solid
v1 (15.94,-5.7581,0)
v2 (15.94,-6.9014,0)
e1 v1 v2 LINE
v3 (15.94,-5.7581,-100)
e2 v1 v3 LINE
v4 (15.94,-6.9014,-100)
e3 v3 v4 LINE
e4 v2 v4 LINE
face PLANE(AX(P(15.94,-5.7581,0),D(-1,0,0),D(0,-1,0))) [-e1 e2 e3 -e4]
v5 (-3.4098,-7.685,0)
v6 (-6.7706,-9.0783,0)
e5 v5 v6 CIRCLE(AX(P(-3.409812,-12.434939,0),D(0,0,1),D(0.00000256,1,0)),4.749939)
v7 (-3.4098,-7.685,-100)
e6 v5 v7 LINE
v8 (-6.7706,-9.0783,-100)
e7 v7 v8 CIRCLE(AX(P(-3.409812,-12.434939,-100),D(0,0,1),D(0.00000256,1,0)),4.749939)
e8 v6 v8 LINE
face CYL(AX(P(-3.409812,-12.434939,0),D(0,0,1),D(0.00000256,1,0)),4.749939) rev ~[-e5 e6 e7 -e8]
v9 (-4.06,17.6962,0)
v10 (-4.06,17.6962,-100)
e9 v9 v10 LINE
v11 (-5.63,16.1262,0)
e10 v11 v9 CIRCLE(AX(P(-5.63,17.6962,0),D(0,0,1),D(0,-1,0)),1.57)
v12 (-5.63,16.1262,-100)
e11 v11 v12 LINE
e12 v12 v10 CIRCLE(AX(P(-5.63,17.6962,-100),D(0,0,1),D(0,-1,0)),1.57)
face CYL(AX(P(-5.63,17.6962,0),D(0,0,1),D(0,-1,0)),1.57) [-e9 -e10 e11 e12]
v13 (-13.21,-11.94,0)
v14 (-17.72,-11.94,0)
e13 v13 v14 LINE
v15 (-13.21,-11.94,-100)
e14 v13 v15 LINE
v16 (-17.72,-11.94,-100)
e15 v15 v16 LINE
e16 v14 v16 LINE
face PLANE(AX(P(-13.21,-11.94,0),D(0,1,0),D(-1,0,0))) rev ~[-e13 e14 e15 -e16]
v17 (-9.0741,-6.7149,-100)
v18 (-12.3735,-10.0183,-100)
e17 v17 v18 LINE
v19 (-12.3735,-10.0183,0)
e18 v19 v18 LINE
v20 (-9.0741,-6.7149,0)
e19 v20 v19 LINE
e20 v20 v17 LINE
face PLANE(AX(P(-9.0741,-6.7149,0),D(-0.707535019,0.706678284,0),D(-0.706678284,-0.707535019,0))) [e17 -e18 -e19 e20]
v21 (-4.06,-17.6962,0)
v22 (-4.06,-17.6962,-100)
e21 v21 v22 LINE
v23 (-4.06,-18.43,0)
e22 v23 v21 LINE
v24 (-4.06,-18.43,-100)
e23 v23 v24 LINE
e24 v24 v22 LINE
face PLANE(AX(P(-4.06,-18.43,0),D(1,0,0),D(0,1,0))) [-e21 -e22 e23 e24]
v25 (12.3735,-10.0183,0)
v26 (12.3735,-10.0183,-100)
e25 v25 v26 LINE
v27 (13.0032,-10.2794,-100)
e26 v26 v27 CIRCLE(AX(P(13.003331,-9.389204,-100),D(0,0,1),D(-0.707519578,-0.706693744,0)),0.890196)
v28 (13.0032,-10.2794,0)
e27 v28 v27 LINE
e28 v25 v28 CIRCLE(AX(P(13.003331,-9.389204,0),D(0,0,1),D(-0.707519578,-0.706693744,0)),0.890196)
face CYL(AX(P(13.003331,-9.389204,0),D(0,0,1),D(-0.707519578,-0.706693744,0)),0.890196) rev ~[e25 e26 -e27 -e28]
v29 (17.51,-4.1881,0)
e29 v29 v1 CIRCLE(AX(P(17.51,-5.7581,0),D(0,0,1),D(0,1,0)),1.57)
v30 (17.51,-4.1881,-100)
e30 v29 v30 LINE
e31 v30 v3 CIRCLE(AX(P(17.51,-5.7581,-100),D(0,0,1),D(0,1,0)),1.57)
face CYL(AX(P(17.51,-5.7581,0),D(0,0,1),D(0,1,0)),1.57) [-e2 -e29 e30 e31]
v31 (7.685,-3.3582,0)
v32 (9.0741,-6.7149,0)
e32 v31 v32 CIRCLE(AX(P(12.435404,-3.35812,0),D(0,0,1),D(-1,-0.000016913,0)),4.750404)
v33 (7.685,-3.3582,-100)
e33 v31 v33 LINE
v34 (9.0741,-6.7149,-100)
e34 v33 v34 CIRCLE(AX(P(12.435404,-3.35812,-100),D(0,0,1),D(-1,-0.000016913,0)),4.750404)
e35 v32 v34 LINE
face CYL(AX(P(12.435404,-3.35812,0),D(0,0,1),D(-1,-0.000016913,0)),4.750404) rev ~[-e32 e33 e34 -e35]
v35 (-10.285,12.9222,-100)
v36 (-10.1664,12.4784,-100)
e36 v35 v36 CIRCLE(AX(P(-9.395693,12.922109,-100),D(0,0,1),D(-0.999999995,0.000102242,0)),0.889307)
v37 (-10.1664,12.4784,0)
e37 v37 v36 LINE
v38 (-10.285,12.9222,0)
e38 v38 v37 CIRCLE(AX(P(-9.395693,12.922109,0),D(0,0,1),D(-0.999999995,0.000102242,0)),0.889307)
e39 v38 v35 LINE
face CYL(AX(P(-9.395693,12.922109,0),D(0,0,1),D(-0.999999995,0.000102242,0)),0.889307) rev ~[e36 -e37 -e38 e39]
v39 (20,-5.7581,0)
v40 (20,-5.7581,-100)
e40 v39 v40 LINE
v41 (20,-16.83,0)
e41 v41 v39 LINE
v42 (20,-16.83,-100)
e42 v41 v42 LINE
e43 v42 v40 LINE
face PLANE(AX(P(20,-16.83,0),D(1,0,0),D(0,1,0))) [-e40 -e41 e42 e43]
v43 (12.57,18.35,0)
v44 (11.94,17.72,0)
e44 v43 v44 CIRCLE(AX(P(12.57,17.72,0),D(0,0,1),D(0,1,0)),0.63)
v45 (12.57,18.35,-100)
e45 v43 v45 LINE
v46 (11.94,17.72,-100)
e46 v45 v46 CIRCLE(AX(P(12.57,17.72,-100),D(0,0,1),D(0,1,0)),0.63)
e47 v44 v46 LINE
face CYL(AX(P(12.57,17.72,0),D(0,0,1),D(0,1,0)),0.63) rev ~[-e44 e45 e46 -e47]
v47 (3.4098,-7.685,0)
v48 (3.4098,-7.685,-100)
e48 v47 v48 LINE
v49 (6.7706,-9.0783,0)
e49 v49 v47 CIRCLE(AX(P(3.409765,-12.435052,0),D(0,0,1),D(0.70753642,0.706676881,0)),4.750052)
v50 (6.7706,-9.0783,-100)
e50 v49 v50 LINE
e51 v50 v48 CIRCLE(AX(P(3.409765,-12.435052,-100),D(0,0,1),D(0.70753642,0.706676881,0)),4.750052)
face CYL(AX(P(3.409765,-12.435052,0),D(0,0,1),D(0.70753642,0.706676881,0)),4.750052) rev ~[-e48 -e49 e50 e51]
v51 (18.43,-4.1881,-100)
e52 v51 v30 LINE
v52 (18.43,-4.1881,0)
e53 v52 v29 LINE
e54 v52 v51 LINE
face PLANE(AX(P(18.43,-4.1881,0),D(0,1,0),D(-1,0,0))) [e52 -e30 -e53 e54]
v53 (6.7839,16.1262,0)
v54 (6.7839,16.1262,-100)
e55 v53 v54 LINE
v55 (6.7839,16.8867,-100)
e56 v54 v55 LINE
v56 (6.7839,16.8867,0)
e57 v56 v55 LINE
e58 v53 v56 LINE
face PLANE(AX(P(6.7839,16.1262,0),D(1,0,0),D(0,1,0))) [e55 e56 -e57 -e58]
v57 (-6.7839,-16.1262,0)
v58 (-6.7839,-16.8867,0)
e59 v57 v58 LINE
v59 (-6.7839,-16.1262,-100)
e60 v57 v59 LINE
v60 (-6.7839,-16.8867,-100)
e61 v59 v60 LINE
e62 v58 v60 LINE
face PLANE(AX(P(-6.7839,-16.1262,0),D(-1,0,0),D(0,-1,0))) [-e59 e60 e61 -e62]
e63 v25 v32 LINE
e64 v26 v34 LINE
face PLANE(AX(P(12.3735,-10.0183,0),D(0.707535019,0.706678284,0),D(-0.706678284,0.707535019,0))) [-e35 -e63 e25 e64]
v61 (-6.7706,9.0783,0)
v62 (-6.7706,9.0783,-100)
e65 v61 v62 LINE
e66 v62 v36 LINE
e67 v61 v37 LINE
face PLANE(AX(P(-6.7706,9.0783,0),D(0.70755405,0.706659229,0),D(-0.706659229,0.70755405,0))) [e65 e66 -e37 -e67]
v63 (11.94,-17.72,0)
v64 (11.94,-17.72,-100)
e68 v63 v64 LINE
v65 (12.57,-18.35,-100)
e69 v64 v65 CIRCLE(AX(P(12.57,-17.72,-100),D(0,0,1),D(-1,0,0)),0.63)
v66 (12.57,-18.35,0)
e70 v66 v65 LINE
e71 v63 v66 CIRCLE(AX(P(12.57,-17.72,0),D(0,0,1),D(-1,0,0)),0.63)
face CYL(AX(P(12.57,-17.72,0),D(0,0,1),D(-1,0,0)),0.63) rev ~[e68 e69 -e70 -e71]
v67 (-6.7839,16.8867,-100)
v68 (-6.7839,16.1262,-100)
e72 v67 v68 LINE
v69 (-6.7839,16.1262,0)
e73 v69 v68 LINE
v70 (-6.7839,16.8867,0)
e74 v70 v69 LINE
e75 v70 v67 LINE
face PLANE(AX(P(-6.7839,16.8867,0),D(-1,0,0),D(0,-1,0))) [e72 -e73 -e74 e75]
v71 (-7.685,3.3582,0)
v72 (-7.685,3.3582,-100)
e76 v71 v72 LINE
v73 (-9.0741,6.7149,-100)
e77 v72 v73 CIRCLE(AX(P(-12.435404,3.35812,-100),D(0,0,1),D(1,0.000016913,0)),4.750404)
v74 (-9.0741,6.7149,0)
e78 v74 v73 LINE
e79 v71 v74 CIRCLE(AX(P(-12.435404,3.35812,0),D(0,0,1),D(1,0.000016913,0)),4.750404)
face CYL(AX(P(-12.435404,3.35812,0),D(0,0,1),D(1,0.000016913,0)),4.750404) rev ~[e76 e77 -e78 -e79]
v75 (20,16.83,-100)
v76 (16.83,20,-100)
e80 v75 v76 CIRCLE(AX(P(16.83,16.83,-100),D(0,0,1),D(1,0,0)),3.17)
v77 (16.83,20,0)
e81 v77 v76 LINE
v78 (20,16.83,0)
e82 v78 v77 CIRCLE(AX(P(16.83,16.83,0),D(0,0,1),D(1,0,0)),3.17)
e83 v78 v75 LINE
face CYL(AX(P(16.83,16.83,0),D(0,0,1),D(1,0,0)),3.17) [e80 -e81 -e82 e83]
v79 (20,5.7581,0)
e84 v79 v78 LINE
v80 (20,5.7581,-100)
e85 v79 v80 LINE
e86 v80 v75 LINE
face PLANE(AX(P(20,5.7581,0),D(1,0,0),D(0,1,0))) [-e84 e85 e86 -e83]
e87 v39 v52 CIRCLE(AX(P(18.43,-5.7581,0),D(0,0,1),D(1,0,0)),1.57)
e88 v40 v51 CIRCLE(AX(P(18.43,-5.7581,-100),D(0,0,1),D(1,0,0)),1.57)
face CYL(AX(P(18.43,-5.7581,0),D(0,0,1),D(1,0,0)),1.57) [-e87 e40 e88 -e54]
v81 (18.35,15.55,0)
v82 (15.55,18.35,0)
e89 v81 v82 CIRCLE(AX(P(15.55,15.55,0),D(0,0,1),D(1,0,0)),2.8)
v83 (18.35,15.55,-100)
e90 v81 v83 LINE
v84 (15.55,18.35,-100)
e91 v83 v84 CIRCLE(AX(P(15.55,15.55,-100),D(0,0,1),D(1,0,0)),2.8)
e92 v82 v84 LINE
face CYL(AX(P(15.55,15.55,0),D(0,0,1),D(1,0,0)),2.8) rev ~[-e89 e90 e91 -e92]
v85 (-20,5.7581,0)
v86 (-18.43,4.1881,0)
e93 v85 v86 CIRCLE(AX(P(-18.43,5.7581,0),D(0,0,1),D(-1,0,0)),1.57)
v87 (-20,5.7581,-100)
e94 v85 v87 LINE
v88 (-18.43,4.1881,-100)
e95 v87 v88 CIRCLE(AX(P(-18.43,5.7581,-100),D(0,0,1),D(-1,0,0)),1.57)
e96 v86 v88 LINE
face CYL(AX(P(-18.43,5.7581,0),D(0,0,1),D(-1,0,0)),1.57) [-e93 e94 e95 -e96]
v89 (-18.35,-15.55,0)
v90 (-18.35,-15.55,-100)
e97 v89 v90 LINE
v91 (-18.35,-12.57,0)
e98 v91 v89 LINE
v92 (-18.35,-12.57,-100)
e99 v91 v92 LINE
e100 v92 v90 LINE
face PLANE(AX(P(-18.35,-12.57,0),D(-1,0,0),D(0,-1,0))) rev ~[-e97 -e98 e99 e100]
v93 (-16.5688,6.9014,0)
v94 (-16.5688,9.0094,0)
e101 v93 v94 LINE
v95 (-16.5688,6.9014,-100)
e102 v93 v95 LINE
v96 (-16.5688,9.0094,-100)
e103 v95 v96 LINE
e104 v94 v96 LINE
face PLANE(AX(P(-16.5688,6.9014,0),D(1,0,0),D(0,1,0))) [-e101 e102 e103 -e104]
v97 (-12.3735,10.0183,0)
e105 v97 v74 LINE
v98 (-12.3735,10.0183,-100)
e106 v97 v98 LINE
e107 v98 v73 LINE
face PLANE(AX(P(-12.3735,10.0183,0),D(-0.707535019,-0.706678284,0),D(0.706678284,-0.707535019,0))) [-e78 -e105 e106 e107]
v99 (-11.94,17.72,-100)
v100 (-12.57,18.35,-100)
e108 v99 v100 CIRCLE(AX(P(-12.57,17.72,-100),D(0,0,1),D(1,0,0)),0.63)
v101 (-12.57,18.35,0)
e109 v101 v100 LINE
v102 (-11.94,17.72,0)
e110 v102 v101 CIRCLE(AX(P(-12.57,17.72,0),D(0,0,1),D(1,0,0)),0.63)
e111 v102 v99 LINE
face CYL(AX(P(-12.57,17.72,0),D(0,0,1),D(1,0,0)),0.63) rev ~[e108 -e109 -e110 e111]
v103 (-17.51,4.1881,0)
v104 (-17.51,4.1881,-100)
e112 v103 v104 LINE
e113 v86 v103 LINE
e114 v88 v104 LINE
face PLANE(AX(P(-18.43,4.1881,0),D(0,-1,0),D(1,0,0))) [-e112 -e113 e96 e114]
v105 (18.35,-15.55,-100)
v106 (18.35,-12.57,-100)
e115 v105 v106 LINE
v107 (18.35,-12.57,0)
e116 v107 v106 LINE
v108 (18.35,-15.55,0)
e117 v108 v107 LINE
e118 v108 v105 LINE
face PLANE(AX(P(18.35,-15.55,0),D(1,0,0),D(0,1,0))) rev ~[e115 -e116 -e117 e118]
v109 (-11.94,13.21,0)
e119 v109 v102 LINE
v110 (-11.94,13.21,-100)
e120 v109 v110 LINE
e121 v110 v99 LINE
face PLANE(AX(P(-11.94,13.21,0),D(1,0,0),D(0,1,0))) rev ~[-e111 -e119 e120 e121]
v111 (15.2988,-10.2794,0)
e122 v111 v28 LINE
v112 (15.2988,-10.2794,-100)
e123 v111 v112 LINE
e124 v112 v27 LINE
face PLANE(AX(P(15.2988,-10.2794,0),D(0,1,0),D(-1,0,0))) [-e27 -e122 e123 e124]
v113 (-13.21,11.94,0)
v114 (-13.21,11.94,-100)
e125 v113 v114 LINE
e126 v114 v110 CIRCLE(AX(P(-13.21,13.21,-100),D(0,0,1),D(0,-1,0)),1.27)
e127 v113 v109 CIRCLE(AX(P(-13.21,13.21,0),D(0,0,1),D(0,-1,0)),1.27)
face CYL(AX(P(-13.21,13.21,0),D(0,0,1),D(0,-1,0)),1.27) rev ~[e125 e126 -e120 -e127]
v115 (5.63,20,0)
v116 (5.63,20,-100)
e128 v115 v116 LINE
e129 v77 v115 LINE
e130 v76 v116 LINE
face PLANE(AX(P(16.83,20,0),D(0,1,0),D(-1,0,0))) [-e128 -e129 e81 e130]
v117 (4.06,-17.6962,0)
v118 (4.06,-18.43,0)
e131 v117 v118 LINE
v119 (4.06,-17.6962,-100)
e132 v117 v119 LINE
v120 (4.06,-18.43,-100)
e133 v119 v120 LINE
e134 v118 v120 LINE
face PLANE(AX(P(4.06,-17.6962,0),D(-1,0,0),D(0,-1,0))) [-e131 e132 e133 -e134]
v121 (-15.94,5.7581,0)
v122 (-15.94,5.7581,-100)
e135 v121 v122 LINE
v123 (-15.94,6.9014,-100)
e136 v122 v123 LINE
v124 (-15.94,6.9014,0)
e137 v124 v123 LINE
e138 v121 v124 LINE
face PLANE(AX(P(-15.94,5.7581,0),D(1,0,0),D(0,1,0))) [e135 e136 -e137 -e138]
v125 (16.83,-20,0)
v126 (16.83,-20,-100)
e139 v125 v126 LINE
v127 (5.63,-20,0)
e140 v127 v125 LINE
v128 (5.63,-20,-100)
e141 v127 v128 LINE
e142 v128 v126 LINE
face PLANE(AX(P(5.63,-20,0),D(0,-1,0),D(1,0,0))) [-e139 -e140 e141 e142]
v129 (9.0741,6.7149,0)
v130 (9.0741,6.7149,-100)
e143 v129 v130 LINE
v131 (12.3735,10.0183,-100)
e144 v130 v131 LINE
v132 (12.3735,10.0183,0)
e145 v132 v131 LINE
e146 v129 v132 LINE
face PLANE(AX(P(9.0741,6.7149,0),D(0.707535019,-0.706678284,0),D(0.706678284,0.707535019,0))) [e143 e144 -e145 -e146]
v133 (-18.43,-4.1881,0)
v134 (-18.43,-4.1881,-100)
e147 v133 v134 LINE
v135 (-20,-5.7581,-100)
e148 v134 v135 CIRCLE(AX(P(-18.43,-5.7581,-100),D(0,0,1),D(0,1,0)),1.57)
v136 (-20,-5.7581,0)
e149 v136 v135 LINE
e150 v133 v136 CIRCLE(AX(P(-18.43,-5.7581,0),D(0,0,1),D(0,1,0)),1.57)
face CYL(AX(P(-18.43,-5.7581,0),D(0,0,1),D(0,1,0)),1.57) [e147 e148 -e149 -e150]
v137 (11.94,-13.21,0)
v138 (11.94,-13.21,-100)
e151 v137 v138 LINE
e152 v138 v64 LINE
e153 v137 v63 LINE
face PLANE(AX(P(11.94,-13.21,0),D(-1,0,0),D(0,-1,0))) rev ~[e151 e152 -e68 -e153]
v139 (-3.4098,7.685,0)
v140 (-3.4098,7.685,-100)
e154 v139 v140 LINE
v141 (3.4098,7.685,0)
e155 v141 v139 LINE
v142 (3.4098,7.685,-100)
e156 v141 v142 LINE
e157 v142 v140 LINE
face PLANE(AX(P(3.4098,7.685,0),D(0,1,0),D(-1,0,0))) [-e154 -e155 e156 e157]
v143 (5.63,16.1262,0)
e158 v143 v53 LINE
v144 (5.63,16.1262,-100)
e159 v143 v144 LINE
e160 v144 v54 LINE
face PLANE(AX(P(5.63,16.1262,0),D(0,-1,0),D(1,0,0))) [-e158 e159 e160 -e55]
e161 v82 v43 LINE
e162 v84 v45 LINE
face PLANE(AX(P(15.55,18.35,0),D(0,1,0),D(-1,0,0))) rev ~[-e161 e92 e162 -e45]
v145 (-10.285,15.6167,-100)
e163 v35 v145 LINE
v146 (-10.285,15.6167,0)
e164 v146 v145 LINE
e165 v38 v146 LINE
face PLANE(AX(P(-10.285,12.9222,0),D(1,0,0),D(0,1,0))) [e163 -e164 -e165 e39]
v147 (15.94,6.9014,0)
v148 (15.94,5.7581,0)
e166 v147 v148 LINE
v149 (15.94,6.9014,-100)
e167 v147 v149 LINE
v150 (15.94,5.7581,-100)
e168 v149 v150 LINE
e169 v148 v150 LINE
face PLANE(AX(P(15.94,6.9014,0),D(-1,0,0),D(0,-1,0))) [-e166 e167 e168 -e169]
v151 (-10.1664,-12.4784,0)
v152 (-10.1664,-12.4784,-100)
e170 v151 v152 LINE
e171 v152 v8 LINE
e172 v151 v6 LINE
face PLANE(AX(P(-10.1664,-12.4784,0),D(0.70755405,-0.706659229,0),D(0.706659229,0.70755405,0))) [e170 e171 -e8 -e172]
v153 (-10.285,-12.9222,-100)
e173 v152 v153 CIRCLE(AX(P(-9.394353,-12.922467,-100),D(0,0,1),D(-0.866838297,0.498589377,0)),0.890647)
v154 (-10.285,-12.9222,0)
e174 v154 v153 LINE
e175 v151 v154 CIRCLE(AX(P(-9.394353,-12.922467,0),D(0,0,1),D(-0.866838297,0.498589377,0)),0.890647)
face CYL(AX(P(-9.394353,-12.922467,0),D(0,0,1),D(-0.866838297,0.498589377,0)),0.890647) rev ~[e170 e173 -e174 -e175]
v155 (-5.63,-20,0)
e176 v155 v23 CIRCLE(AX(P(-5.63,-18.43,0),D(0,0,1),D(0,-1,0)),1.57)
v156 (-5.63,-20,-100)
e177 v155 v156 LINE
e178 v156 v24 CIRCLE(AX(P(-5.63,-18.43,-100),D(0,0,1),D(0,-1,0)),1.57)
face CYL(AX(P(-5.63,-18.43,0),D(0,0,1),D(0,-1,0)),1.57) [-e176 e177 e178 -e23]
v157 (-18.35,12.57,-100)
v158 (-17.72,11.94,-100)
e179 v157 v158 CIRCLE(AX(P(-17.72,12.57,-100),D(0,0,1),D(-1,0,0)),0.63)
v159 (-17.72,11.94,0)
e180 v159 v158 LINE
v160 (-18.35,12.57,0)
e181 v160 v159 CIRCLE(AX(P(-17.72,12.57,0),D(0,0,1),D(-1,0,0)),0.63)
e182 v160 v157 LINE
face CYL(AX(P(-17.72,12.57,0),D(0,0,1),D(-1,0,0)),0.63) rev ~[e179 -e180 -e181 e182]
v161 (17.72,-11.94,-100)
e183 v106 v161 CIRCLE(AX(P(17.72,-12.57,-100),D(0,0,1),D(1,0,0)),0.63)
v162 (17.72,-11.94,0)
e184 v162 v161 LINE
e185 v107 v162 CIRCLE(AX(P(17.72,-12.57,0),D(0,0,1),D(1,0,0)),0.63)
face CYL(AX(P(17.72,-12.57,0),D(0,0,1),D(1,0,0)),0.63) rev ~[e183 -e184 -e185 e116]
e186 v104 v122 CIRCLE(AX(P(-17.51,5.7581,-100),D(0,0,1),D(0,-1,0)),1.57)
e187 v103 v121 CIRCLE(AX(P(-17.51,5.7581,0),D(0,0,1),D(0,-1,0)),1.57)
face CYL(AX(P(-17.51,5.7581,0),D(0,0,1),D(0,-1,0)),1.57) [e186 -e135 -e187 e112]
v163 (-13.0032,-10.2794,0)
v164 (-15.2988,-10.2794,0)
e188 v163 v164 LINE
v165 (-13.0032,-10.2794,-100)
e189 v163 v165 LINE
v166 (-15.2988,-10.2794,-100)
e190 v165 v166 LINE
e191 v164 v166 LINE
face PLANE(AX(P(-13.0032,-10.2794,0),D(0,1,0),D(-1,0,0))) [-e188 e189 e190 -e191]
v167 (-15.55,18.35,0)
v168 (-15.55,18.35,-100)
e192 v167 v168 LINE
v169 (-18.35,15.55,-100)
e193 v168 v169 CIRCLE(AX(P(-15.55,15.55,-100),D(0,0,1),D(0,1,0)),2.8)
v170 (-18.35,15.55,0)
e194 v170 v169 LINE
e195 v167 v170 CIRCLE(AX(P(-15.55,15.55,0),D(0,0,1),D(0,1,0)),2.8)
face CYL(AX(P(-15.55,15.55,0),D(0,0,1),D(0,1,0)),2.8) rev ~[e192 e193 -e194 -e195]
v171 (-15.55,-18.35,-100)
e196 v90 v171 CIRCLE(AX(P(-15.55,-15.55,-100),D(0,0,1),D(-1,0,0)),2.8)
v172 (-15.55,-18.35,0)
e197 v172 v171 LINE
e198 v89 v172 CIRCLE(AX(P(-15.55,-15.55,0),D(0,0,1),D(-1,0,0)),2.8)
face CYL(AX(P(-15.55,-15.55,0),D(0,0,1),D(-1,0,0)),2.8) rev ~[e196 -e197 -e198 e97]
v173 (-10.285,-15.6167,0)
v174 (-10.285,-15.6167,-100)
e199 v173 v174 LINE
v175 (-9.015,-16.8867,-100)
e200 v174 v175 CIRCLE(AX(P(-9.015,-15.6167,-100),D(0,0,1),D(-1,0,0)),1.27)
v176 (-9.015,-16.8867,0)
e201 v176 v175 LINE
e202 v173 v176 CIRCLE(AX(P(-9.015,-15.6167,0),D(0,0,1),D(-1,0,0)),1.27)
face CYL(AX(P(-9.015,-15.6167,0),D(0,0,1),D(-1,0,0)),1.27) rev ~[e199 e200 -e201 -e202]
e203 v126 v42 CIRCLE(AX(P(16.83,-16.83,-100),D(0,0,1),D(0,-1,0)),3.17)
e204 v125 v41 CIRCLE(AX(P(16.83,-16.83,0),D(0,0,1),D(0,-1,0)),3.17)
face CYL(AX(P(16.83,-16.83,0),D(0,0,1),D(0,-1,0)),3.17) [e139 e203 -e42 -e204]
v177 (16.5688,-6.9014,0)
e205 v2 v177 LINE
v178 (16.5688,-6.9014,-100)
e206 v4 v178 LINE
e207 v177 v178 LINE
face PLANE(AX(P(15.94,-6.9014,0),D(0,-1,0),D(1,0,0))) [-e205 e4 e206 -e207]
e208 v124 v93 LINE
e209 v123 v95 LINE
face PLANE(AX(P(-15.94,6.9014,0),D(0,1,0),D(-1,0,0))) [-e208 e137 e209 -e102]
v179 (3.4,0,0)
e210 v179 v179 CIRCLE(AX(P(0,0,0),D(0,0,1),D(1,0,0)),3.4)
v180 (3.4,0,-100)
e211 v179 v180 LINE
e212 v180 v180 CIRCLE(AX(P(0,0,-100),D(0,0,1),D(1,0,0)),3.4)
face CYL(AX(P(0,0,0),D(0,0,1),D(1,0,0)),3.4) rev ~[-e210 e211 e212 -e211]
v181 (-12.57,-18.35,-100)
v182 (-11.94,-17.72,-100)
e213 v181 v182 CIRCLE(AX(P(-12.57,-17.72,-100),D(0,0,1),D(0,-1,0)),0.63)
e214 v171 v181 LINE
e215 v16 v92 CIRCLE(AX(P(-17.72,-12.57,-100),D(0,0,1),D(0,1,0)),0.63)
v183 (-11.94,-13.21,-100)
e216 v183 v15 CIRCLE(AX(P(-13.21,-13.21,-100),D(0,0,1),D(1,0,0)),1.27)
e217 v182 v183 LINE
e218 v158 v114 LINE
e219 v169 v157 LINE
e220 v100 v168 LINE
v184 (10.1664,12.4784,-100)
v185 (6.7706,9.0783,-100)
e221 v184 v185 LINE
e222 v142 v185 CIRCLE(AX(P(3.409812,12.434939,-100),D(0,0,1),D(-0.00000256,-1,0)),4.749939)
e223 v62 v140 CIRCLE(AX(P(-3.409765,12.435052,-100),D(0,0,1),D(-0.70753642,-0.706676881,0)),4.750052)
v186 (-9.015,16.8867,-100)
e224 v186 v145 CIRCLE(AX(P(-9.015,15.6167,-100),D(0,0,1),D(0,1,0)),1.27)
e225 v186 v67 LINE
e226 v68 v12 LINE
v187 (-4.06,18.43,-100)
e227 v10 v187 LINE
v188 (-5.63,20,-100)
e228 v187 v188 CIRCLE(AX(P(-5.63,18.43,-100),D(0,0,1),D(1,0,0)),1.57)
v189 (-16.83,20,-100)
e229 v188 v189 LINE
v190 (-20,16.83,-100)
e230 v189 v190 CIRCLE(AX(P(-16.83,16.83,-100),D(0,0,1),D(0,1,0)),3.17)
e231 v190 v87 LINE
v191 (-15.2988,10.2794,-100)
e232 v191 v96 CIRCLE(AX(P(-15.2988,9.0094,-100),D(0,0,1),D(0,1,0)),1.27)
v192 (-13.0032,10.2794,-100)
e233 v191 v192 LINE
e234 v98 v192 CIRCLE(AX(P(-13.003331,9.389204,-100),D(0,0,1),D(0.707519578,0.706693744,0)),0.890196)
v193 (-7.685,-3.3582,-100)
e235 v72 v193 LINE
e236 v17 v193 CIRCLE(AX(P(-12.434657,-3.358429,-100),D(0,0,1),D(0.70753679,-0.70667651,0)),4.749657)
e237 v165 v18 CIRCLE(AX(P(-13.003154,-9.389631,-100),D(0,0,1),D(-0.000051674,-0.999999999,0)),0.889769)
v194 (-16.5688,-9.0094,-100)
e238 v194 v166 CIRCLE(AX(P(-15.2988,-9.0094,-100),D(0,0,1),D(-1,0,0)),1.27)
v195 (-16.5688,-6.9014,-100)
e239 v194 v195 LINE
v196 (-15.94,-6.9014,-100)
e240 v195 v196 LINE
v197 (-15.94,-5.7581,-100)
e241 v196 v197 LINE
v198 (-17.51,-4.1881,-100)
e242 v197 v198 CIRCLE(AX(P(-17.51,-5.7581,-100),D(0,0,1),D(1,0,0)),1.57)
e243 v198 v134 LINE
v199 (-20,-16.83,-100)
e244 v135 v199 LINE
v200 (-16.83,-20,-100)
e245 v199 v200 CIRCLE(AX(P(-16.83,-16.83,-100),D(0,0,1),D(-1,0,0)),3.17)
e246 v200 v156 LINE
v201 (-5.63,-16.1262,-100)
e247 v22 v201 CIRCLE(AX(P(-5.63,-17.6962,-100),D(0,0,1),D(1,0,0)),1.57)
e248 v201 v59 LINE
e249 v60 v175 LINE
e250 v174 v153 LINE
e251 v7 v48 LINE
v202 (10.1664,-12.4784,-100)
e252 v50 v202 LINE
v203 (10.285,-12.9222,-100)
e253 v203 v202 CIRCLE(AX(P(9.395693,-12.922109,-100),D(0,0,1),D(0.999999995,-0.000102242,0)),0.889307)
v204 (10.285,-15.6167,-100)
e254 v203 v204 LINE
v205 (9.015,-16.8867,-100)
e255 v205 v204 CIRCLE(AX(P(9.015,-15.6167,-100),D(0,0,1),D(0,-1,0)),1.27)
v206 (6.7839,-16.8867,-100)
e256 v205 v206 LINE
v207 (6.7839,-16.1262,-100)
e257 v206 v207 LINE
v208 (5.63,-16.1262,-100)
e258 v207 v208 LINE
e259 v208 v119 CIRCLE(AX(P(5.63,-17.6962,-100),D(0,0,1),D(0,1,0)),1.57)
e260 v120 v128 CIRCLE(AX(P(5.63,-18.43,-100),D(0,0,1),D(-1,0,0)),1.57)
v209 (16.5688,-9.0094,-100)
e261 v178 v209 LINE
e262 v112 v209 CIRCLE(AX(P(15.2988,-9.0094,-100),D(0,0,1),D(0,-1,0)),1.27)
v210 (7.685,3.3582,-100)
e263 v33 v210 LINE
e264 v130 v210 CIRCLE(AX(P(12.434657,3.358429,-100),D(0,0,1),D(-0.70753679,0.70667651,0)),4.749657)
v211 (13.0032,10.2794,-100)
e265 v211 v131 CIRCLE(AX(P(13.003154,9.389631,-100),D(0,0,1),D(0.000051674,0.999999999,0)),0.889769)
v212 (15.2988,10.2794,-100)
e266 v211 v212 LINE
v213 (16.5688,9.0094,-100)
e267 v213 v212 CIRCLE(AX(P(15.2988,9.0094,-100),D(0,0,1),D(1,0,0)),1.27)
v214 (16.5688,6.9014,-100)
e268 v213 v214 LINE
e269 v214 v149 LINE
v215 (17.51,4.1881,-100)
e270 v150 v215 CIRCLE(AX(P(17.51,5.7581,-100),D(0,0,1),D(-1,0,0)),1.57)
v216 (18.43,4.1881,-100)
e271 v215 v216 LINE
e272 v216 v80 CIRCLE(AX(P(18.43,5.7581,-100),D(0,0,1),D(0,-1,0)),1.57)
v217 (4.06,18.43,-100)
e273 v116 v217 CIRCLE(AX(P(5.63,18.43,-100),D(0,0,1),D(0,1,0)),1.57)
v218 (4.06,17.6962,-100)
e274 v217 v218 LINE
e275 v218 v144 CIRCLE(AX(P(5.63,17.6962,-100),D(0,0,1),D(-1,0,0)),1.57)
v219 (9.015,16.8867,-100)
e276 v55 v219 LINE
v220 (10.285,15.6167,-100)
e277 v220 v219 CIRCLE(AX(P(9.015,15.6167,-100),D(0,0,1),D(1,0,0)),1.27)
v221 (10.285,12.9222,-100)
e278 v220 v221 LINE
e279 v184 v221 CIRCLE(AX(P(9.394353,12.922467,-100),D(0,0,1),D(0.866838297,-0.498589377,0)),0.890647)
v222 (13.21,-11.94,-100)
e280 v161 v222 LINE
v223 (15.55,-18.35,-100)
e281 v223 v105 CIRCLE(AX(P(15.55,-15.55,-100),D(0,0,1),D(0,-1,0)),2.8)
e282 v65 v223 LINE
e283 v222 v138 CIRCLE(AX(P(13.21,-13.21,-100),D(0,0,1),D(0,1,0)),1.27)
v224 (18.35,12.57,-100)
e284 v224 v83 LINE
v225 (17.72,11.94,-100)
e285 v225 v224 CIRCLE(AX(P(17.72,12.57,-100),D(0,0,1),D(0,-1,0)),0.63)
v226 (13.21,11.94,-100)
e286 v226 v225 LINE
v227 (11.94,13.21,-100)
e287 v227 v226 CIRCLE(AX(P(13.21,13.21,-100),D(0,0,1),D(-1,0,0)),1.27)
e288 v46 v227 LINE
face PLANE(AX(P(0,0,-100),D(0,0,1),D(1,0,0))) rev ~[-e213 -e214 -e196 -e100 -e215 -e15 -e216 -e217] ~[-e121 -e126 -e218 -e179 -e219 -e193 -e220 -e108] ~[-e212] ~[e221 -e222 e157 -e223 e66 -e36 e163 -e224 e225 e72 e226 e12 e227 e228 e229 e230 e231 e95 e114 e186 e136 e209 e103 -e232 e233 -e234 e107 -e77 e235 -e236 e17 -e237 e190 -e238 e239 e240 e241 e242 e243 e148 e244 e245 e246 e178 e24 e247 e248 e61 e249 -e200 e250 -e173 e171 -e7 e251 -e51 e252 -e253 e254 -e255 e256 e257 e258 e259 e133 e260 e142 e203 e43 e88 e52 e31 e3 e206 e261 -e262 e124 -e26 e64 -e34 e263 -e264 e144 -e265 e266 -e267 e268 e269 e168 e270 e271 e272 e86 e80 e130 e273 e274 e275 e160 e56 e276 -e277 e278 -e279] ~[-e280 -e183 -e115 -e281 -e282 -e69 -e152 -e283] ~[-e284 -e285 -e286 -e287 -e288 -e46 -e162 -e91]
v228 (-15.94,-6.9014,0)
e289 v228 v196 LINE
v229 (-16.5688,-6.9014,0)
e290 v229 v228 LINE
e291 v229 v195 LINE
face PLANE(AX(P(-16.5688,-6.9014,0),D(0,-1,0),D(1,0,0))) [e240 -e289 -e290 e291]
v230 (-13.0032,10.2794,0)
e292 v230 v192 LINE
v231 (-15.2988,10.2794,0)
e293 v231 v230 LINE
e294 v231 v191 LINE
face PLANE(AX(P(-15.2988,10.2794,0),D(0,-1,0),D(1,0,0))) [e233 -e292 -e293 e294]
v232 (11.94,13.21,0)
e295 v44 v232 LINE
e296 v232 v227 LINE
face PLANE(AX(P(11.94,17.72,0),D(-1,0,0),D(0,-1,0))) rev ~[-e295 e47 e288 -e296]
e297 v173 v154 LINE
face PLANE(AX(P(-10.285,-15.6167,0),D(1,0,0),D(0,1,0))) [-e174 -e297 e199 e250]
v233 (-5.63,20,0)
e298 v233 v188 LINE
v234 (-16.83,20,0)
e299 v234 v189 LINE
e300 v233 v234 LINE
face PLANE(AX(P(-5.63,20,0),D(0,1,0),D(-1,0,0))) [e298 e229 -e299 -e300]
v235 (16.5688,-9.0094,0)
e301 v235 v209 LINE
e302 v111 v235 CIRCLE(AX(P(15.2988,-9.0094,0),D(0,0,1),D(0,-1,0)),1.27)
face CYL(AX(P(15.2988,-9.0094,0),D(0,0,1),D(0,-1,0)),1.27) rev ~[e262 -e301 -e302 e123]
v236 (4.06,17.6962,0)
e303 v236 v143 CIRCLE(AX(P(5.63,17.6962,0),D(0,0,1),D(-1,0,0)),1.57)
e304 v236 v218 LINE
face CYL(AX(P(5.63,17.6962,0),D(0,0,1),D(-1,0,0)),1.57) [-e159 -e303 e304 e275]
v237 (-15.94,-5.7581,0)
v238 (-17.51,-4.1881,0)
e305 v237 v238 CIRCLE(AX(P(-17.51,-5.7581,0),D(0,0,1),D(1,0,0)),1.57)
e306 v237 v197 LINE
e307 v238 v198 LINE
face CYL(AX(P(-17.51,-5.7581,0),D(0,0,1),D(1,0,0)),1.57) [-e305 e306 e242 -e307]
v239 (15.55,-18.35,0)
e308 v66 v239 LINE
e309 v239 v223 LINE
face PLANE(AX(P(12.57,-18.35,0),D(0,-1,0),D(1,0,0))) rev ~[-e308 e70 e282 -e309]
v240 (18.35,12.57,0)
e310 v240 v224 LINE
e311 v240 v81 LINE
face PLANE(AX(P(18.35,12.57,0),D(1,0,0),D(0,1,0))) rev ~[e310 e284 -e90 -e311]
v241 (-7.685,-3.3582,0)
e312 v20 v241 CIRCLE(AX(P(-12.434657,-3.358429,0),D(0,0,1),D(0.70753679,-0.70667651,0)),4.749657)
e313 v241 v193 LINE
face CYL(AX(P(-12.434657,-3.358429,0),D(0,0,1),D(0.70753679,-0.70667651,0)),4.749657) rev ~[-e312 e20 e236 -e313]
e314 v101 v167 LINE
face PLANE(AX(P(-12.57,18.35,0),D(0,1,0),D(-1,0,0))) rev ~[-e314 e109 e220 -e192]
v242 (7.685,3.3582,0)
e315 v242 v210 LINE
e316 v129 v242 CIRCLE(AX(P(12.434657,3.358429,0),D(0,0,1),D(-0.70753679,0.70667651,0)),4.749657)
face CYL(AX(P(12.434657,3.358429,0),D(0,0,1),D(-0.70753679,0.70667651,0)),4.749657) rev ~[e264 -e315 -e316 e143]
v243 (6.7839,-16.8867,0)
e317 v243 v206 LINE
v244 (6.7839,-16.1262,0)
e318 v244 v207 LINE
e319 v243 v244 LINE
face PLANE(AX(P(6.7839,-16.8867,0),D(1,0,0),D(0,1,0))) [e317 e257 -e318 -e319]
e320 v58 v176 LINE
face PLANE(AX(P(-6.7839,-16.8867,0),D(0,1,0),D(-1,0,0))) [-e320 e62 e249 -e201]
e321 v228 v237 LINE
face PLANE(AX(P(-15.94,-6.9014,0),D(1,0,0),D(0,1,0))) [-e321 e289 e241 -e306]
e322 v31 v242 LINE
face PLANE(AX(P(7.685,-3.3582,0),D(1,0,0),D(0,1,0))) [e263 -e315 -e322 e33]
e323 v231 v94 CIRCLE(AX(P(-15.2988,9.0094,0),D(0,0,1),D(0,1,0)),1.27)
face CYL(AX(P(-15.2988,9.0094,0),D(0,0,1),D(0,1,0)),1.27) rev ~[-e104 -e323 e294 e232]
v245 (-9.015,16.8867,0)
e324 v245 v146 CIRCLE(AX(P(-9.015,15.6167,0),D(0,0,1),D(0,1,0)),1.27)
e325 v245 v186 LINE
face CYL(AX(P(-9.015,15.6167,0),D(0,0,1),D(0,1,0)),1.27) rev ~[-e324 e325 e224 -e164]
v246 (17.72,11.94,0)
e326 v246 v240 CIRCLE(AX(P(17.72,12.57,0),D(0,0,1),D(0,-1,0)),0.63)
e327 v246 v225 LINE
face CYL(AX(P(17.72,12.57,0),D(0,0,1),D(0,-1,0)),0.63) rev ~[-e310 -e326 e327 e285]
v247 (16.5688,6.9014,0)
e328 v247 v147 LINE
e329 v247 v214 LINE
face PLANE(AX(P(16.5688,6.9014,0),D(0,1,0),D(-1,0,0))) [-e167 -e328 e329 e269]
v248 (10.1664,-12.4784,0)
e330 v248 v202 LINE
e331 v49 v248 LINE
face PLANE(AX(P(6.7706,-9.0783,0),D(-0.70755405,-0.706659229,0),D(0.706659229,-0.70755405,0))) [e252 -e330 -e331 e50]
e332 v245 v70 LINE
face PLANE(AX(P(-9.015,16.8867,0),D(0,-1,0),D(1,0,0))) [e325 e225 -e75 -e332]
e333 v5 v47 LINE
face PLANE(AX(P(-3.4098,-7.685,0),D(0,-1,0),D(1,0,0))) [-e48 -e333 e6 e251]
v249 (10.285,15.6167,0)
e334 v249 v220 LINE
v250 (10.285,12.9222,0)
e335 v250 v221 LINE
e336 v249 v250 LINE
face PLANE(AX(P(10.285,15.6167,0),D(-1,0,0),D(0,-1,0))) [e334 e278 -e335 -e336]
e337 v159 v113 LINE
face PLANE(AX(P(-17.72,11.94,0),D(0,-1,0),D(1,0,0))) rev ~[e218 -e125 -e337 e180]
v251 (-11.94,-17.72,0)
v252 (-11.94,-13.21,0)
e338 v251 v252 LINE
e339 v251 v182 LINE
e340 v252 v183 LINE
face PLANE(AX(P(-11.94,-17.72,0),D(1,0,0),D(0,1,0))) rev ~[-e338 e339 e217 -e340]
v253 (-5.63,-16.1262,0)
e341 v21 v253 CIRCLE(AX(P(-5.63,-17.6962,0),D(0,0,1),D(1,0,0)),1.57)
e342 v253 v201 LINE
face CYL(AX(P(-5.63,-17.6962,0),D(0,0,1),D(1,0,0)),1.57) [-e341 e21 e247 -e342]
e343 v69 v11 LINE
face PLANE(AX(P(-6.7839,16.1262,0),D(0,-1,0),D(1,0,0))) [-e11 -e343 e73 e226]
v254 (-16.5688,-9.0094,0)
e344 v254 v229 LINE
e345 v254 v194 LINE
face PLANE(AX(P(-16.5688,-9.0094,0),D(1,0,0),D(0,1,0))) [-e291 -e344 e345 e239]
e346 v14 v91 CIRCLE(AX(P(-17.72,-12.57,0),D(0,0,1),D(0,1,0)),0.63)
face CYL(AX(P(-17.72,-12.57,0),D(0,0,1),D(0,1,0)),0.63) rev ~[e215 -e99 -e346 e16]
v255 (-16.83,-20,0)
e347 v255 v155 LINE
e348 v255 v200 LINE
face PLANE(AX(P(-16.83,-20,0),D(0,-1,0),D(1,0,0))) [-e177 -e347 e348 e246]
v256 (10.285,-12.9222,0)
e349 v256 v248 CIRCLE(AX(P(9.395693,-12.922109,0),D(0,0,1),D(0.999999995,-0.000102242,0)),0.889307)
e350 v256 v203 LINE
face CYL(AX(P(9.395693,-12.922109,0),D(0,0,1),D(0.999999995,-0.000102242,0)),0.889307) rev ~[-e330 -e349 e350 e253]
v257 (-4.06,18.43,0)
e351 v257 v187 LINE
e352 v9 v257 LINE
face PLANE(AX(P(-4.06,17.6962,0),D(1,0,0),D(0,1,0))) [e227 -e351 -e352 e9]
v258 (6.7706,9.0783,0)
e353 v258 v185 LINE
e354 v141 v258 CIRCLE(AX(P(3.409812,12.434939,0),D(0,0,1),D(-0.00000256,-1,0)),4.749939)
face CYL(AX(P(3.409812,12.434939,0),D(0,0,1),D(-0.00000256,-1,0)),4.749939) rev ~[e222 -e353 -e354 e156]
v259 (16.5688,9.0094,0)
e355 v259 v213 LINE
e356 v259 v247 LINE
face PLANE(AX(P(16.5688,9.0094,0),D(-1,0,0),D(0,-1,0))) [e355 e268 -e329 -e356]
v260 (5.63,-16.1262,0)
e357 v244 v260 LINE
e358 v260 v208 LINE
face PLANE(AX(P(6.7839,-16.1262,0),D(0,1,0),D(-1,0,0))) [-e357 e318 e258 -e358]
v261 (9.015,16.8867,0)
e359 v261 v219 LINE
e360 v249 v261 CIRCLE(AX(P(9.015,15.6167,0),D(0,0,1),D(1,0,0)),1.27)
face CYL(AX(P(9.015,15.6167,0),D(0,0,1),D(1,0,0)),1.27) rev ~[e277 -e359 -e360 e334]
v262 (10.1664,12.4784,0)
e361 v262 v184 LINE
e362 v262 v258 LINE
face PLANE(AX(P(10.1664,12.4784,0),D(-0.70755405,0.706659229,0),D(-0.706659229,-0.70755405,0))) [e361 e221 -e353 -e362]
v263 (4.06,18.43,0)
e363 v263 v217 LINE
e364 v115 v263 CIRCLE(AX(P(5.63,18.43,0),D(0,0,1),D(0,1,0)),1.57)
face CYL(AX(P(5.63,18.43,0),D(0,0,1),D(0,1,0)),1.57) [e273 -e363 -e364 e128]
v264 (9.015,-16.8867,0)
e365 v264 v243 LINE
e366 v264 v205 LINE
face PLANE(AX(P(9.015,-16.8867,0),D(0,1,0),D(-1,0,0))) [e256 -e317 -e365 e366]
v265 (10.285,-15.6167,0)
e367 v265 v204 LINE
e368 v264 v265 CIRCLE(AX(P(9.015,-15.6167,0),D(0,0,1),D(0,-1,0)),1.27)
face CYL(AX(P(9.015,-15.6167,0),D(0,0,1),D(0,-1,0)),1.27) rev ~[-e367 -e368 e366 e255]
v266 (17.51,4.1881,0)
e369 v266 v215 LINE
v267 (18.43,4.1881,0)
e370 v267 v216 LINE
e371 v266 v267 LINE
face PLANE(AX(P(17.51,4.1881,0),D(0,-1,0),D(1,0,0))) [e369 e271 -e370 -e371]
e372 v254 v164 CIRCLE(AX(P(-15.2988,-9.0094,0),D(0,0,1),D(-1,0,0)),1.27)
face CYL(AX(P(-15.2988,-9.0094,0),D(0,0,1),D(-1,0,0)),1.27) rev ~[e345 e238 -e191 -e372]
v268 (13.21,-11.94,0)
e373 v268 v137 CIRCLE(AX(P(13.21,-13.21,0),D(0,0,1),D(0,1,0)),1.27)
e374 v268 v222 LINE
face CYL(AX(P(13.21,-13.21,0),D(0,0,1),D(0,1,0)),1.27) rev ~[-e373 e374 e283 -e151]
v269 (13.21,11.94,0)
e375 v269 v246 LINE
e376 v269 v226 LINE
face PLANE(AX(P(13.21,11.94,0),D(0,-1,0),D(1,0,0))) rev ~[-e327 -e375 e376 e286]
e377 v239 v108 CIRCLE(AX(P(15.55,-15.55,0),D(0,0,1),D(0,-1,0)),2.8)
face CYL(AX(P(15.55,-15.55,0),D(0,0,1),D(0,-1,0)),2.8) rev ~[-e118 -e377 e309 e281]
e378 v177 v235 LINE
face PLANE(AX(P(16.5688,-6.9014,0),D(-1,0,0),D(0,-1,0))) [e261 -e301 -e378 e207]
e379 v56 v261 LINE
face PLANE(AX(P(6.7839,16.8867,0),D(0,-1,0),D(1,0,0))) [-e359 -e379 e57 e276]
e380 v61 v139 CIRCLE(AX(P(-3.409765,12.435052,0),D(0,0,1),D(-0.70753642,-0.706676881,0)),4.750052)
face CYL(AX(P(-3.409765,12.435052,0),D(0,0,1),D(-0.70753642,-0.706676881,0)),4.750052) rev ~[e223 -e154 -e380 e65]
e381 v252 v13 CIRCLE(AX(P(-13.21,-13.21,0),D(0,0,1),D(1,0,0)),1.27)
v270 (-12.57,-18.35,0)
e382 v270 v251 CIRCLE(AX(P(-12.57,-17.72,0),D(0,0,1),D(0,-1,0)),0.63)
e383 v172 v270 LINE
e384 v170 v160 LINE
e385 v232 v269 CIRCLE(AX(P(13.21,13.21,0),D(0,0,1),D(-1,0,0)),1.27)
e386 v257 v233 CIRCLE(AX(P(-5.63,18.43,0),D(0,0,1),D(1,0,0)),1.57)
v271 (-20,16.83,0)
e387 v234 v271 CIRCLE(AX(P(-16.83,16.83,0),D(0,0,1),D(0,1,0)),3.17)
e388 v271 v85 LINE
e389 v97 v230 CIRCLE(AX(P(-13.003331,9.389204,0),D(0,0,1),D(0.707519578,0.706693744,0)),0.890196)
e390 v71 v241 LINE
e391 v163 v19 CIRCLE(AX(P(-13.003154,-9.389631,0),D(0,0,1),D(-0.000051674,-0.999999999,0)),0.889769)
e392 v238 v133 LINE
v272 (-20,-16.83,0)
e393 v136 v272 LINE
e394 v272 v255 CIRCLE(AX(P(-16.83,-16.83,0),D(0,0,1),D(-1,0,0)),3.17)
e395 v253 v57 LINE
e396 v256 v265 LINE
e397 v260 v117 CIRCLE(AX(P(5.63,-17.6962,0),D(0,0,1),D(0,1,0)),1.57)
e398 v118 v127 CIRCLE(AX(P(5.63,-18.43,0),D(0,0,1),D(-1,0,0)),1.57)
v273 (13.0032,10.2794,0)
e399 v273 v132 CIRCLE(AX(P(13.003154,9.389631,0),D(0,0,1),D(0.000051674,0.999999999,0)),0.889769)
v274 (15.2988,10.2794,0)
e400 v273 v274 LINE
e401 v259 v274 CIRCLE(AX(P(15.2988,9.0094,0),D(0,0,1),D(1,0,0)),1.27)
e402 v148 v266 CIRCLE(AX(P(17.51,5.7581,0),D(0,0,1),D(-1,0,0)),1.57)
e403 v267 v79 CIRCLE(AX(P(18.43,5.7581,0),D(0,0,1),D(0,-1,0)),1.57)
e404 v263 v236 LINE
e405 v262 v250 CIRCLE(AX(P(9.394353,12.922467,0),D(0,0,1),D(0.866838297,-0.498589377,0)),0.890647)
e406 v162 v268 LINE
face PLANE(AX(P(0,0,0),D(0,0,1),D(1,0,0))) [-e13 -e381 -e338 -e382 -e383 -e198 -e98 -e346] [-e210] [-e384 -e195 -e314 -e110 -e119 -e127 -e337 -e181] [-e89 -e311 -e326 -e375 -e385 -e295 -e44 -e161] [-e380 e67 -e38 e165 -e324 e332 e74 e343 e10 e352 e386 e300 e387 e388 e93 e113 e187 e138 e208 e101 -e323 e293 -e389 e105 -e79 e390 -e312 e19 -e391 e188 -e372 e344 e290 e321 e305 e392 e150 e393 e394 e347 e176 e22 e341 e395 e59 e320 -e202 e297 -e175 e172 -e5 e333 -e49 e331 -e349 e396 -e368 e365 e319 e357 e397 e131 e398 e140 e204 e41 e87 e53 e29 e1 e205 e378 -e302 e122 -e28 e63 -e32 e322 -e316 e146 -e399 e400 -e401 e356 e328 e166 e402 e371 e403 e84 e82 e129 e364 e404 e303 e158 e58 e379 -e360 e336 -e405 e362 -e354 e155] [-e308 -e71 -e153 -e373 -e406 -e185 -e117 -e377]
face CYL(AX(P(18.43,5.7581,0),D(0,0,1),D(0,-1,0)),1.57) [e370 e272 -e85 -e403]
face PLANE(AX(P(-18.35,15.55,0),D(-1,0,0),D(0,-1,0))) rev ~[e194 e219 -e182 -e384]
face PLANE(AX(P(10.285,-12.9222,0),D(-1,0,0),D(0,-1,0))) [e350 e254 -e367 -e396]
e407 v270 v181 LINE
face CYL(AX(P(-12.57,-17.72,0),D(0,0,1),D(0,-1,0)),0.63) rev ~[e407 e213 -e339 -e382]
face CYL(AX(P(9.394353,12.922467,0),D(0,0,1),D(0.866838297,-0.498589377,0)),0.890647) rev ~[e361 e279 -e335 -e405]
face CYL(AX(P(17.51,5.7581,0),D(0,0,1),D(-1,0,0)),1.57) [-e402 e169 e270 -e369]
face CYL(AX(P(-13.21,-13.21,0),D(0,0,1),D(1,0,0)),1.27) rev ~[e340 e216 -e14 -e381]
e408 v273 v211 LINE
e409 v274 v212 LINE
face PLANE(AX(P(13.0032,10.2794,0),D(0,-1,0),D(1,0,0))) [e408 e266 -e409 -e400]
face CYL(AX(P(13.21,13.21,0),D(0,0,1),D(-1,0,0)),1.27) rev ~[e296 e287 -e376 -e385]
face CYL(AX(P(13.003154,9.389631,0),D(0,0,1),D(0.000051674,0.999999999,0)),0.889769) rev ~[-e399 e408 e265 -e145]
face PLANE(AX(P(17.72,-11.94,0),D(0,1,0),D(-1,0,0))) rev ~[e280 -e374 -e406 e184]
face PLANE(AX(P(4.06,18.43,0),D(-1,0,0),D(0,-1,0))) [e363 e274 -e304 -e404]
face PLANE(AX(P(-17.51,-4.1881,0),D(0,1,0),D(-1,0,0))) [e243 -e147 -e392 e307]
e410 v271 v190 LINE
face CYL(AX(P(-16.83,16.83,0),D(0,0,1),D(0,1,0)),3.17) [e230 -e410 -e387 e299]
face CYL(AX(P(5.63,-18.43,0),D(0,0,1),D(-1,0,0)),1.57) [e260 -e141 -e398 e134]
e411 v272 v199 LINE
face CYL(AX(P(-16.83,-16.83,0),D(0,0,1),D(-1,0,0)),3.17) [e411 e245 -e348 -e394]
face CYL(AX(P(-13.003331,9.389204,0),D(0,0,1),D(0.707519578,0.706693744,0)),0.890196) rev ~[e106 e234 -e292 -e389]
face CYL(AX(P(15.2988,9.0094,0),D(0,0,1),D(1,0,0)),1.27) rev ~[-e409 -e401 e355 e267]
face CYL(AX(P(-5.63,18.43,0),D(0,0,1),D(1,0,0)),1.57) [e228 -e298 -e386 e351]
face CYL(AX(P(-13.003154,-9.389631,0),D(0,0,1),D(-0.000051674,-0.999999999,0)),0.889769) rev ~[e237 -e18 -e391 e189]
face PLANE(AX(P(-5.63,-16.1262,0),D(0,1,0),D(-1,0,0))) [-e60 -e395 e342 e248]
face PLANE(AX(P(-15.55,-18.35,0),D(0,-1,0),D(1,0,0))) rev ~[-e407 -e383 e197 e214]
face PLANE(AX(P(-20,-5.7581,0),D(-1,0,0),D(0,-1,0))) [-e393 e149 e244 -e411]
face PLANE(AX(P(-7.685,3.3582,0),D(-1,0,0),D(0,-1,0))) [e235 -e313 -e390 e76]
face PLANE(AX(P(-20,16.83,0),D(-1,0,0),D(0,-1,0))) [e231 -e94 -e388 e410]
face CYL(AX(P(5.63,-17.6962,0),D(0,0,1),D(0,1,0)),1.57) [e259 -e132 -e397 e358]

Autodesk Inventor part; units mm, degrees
ref_plane "YZ Plane" through (0, 0, 0) normal (1, 0, 0) x (0, 1, 0)
ref_plane "XZ Plane" through (0, 0, 0) normal (0, 1, 0) x (-1, 0, 0)
ref_plane "XY Plane" through (0, 0, 0) normal (0, 0, 1) x (1, 0, 0)
sketch "Sketch1" plane through (0, 0, 0) normal (0, 0, 1) x (1, 0, 0)
  arc A0 (-15.55, 18.35) -> (-18.35, 15.55) centre (-15.55, 15.55) ccw
  line L0 (-12.57, 18.35) -> (-15.55, 18.35)
  arc A1 (-11.94, 17.72) -> (-12.57, 18.35) centre (-12.57, 17.72) ccw
  line L1 (-11.94, 13.21) -> (-11.94, 17.72)
  arc A2 (-13.21, 11.94) -> (-11.94, 13.21) centre (-13.21, 13.21) ccw
  line L2 (-17.72, 11.94) -> (-13.21, 11.94)
  arc A3 (-18.35, 12.57) -> (-17.72, 11.94) centre (-17.72, 12.57) ccw
  line L3 (-18.35, 15.55) -> (-18.35, 12.57)
  arc A4 (18.35, -12.57) -> (17.72, -11.94) centre (17.72, -12.57) ccw
  line L4 (18.35, -15.55) -> (18.35, -12.57)
  arc A5 (15.55, -18.35) -> (18.35, -15.55) centre (15.55, -15.55) ccw
  line L5 (12.57, -18.35) -> (15.55, -18.35)
  arc A6 (11.94, -17.72) -> (12.57, -18.35) centre (12.57, -17.72) ccw
  line L6 (11.94, -13.21) -> (11.94, -17.72)
  arc A7 (13.21, -11.94) -> (11.94, -13.21) centre (13.21, -13.21) ccw
  line L7 (17.72, -11.94) -> (13.21, -11.94)
  arc A8 (-18.35, -15.55) -> (-15.55, -18.35) centre (-15.55, -15.55) ccw
  line L8 (-18.35, -12.57) -> (-18.35, -15.55)
  arc A9 (-17.72, -11.94) -> (-18.35, -12.57) centre (-17.72, -12.57) ccw
  line L9 (-13.21, -11.94) -> (-17.72, -11.94)
  arc A10 (-11.94, -13.21) -> (-13.21, -11.94) centre (-13.21, -13.21) ccw
  line L10 (-11.94, -17.72) -> (-11.94, -13.21)
  arc A11 (-12.57, -18.35) -> (-11.94, -17.72) centre (-12.57, -17.72) ccw
  line L11 (-15.55, -18.35) -> (-12.57, -18.35)
  circle A12 centre (0, 0) radius 3.4
  arc A13 (18.35, 15.55) -> (15.55, 18.35) centre (15.55, 15.55) ccw
  line L12 (18.35, 12.57) -> (18.35, 15.55)
  arc A14 (17.72, 11.94) -> (18.35, 12.57) centre (17.72, 12.57) ccw
  line L13 (13.21, 11.94) -> (17.72, 11.94)
  arc A15 (11.94, 13.21) -> (13.21, 11.94) centre (13.21, 13.21) ccw
  line L14 (11.94, 17.72) -> (11.94, 13.21)
  arc A16 (12.57, 18.35) -> (11.94, 17.72) centre (12.57, 17.72) ccw
  line L15 (15.55, 18.35) -> (12.57, 18.35)
  arc A17 (7.685, -3.3582) -> (9.0741, -6.7149) centre (12.435, -3.3582) ccw
  line L16 (7.685, -3.3582) -> (7.685, 3.3582)
  arc A18 (9.0741, 6.7149) -> (7.685, 3.3582) centre (12.435, 3.3582) ccw
  line L17 (9.0741, 6.7149) -> (12.3735, 10.0183)
  arc A19 (13.0032, 10.2794) -> (12.3735, 10.0183) centre (13.0032, 9.3894) ccw
  line L18 (13.0032, 10.2794) -> (15.2988, 10.2794)
  arc A20 (16.5688, 9.0094) -> (15.2988, 10.2794) centre (15.2988, 9.0094) ccw
  line L19 (16.5688, 9.0094) -> (16.5688, 6.9014)
  line L20 (16.5688, 6.9014) -> (15.94, 6.9014)
  line L21 (15.94, 6.9014) -> (15.94, 5.7581)
  arc A21 (15.94, 5.7581) -> (17.51, 4.1881) centre (17.51, 5.7581) ccw
  line L22 (17.51, 4.1881) -> (18.43, 4.1881)
  arc A22 (18.43, 4.1881) -> (20, 5.7581) centre (18.43, 5.7581) ccw
  line L23 (20, 5.7581) -> (20, 16.83)
  arc A23 (20, 16.83) -> (16.83, 20) centre (16.83, 16.83) ccw
  line L24 (16.83, 20) -> (5.63, 20)
  arc A24 (5.63, 20) -> (4.06, 18.43) centre (5.63, 18.43) ccw
  line L25 (4.06, 18.43) -> (4.06, 17.6962)
  arc A25 (4.06, 17.6962) -> (5.63, 16.1262) centre (5.63, 17.6962) ccw
  line L26 (5.63, 16.1262) -> (6.7839, 16.1262)
  line L27 (6.7839, 16.1262) -> (6.7839, 16.8867)
  line L28 (6.7839, 16.8867) -> (9.015, 16.8867)
  arc A26 (10.285, 15.6167) -> (9.015, 16.8867) centre (9.015, 15.6167) ccw
  line L29 (10.285, 15.6167) -> (10.285, 12.9222)
  arc A27 (10.1664, 12.4784) -> (10.285, 12.9222) centre (9.395, 12.9222) ccw
  line L30 (10.1664, 12.4784) -> (6.7706, 9.0783)
  arc A28 (3.4098, 7.685) -> (6.7706, 9.0783) centre (3.4098, 12.435) ccw
  line L31 (3.4098, 7.685) -> (-3.4098, 7.685)
  arc A29 (-6.7706, 9.0783) -> (-3.4098, 7.685) centre (-3.4098, 12.435) ccw
  line L32 (-6.7706, 9.0783) -> (-10.1664, 12.4784)
  arc A30 (-10.285, 12.9222) -> (-10.1664, 12.4784) centre (-9.395, 12.9222) ccw
  line L33 (-10.285, 12.9222) -> (-10.285, 15.6167)
  arc A31 (-9.015, 16.8867) -> (-10.285, 15.6167) centre (-9.015, 15.6167) ccw
  line L34 (-9.015, 16.8867) -> (-6.7839, 16.8867)
  line L35 (-6.7839, 16.8867) -> (-6.7839, 16.1262)
  line L36 (-6.7839, 16.1262) -> (-5.63, 16.1262)
  arc A32 (-5.63, 16.1262) -> (-4.06, 17.6962) centre (-5.63, 17.6962) ccw
  line L37 (-4.06, 17.6962) -> (-4.06, 18.43)
  arc A33 (-4.06, 18.43) -> (-5.63, 20) centre (-5.63, 18.43) ccw
  line L38 (-5.63, 20) -> (-16.83, 20)
  arc A34 (-16.83, 20) -> (-20, 16.83) centre (-16.83, 16.83) ccw
  line L39 (-20, 16.83) -> (-20, 5.7581)
  arc A35 (-20, 5.7581) -> (-18.43, 4.1881) centre (-18.43, 5.7581) ccw
  line L40 (-18.43, 4.1881) -> (-17.51, 4.1881)
  arc A36 (-17.51, 4.1881) -> (-15.94, 5.7581) centre (-17.51, 5.7581) ccw
  line L41 (-15.94, 5.7581) -> (-15.94, 6.9014)
  line L42 (-15.94, 6.9014) -> (-16.5688, 6.9014)
  line L43 (-16.5688, 6.9014) -> (-16.5688, 9.0094)
  arc A37 (-15.2988, 10.2794) -> (-16.5688, 9.0094) centre (-15.2988, 9.0094) ccw
  line L44 (-15.2988, 10.2794) -> (-13.0032, 10.2794)
  arc A38 (-12.3735, 10.0183) -> (-13.0032, 10.2794) centre (-13.0032, 9.3894) ccw
  line L45 (-12.3735, 10.0183) -> (-9.0741, 6.7149)
  arc A39 (-7.685, 3.3582) -> (-9.0741, 6.7149) centre (-12.435, 3.3582) ccw
  line L46 (-7.685, 3.3582) -> (-7.685, -3.3582)
  arc A40 (-9.0741, -6.7149) -> (-7.685, -3.3582) centre (-12.435, -3.3582) ccw
  line L47 (-9.0741, -6.7149) -> (-12.3735, -10.0183)
  arc A41 (-13.0032, -10.2794) -> (-12.3735, -10.0183) centre (-13.0032, -9.3894) ccw
  line L48 (-13.0032, -10.2794) -> (-15.2988, -10.2794)
  arc A42 (-16.5688, -9.0094) -> (-15.2988, -10.2794) centre (-15.2988, -9.0094) ccw
  line L49 (-16.5688, -9.0094) -> (-16.5688, -6.9014)
  line L50 (-16.5688, -6.9014) -> (-15.94, -6.9014)
  line L51 (-15.94, -6.9014) -> (-15.94, -5.7581)
  arc A43 (-15.94, -5.7581) -> (-17.51, -4.1881) centre (-17.51, -5.7581) ccw
  line L52 (-17.51, -4.1881) -> (-18.43, -4.1881)
  arc A44 (-18.43, -4.1881) -> (-20, -5.7581) centre (-18.43, -5.7581) ccw
  line L53 (-20, -5.7581) -> (-20, -16.83)
  arc A45 (-20, -16.83) -> (-16.83, -20) centre (-16.83, -16.83) ccw
  line L54 (-16.83, -20) -> (-5.63, -20)
  arc A46 (-5.63, -20) -> (-4.06, -18.43) centre (-5.63, -18.43) ccw
  line L55 (-4.06, -18.43) -> (-4.06, -17.6962)
  arc A47 (-4.06, -17.6962) -> (-5.63, -16.1262) centre (-5.63, -17.6962) ccw
  line L56 (-5.63, -16.1262) -> (-6.7839, -16.1262)
  line L57 (-6.7839, -16.1262) -> (-6.7839, -16.8867)
  line L58 (-6.7839, -16.8867) -> (-9.015, -16.8867)
  arc A48 (-10.285, -15.6167) -> (-9.015, -16.8867) centre (-9.015, -15.6167) ccw
  line L59 (-10.285, -15.6167) -> (-10.285, -12.9222)
  arc A49 (-10.1664, -12.4784) -> (-10.285, -12.9222) centre (-9.395, -12.9222) ccw
  line L60 (-10.1664, -12.4784) -> (-6.7706, -9.0783)
  arc A50 (-3.4098, -7.685) -> (-6.7706, -9.0783) centre (-3.4098, -12.435) ccw
  line L61 (-3.4098, -7.685) -> (3.4098, -7.685)
  arc A51 (6.7706, -9.0783) -> (3.4098, -7.685) centre (3.4098, -12.435) ccw
  line L62 (6.7706, -9.0783) -> (10.1664, -12.4784)
  arc A52 (10.285, -12.9222) -> (10.1664, -12.4784) centre (9.395, -12.9222) ccw
  line L63 (10.285, -12.9222) -> (10.285, -15.6167)
  arc A53 (9.015, -16.8867) -> (10.285, -15.6167) centre (9.015, -15.6167) ccw
  line L64 (9.015, -16.8867) -> (6.7839, -16.8867)
  line L65 (6.7839, -16.8867) -> (6.7839, -16.1262)
  line L66 (6.7839, -16.1262) -> (5.63, -16.1262)
  arc A54 (5.63, -16.1262) -> (4.06, -17.6962) centre (5.63, -17.6962) ccw
  line L67 (4.06, -17.6962) -> (4.06, -18.43)
  arc A55 (4.06, -18.43) -> (5.63, -20) centre (5.63, -18.43) ccw
  line L68 (5.63, -20) -> (16.83, -20)
  arc A56 (16.83, -20) -> (20, -16.83) centre (16.83, -16.83) ccw
  line L69 (20, -16.83) -> (20, -5.7581)
  arc A57 (20, -5.7581) -> (18.43, -4.1881) centre (18.43, -5.7581) ccw
  line L70 (18.43, -4.1881) -> (17.51, -4.1881)
  arc A58 (17.51, -4.1881) -> (15.94, -5.7581) centre (17.51, -5.7581) ccw
  line L71 (15.94, -5.7581) -> (15.94, -6.9014)
  line L72 (15.94, -6.9014) -> (16.5688, -6.9014)
  line L73 (16.5688, -6.9014) -> (16.5688, -9.0094)
  arc A59 (15.2988, -10.2794) -> (16.5688, -9.0094) centre (15.2988, -9.0094) ccw
  line L74 (15.2988, -10.2794) -> (13.0032, -10.2794)
  arc A60 (12.3735, -10.0183) -> (13.0032, -10.2794) centre (13.0032, -9.3894) ccw
  line L75 (12.3735, -10.0183) -> (9.0741, -6.7149)
extrude "Extrusion1" add sketch "Sketch1" against normal blind 100
properties part number "40-4040-LITE"
